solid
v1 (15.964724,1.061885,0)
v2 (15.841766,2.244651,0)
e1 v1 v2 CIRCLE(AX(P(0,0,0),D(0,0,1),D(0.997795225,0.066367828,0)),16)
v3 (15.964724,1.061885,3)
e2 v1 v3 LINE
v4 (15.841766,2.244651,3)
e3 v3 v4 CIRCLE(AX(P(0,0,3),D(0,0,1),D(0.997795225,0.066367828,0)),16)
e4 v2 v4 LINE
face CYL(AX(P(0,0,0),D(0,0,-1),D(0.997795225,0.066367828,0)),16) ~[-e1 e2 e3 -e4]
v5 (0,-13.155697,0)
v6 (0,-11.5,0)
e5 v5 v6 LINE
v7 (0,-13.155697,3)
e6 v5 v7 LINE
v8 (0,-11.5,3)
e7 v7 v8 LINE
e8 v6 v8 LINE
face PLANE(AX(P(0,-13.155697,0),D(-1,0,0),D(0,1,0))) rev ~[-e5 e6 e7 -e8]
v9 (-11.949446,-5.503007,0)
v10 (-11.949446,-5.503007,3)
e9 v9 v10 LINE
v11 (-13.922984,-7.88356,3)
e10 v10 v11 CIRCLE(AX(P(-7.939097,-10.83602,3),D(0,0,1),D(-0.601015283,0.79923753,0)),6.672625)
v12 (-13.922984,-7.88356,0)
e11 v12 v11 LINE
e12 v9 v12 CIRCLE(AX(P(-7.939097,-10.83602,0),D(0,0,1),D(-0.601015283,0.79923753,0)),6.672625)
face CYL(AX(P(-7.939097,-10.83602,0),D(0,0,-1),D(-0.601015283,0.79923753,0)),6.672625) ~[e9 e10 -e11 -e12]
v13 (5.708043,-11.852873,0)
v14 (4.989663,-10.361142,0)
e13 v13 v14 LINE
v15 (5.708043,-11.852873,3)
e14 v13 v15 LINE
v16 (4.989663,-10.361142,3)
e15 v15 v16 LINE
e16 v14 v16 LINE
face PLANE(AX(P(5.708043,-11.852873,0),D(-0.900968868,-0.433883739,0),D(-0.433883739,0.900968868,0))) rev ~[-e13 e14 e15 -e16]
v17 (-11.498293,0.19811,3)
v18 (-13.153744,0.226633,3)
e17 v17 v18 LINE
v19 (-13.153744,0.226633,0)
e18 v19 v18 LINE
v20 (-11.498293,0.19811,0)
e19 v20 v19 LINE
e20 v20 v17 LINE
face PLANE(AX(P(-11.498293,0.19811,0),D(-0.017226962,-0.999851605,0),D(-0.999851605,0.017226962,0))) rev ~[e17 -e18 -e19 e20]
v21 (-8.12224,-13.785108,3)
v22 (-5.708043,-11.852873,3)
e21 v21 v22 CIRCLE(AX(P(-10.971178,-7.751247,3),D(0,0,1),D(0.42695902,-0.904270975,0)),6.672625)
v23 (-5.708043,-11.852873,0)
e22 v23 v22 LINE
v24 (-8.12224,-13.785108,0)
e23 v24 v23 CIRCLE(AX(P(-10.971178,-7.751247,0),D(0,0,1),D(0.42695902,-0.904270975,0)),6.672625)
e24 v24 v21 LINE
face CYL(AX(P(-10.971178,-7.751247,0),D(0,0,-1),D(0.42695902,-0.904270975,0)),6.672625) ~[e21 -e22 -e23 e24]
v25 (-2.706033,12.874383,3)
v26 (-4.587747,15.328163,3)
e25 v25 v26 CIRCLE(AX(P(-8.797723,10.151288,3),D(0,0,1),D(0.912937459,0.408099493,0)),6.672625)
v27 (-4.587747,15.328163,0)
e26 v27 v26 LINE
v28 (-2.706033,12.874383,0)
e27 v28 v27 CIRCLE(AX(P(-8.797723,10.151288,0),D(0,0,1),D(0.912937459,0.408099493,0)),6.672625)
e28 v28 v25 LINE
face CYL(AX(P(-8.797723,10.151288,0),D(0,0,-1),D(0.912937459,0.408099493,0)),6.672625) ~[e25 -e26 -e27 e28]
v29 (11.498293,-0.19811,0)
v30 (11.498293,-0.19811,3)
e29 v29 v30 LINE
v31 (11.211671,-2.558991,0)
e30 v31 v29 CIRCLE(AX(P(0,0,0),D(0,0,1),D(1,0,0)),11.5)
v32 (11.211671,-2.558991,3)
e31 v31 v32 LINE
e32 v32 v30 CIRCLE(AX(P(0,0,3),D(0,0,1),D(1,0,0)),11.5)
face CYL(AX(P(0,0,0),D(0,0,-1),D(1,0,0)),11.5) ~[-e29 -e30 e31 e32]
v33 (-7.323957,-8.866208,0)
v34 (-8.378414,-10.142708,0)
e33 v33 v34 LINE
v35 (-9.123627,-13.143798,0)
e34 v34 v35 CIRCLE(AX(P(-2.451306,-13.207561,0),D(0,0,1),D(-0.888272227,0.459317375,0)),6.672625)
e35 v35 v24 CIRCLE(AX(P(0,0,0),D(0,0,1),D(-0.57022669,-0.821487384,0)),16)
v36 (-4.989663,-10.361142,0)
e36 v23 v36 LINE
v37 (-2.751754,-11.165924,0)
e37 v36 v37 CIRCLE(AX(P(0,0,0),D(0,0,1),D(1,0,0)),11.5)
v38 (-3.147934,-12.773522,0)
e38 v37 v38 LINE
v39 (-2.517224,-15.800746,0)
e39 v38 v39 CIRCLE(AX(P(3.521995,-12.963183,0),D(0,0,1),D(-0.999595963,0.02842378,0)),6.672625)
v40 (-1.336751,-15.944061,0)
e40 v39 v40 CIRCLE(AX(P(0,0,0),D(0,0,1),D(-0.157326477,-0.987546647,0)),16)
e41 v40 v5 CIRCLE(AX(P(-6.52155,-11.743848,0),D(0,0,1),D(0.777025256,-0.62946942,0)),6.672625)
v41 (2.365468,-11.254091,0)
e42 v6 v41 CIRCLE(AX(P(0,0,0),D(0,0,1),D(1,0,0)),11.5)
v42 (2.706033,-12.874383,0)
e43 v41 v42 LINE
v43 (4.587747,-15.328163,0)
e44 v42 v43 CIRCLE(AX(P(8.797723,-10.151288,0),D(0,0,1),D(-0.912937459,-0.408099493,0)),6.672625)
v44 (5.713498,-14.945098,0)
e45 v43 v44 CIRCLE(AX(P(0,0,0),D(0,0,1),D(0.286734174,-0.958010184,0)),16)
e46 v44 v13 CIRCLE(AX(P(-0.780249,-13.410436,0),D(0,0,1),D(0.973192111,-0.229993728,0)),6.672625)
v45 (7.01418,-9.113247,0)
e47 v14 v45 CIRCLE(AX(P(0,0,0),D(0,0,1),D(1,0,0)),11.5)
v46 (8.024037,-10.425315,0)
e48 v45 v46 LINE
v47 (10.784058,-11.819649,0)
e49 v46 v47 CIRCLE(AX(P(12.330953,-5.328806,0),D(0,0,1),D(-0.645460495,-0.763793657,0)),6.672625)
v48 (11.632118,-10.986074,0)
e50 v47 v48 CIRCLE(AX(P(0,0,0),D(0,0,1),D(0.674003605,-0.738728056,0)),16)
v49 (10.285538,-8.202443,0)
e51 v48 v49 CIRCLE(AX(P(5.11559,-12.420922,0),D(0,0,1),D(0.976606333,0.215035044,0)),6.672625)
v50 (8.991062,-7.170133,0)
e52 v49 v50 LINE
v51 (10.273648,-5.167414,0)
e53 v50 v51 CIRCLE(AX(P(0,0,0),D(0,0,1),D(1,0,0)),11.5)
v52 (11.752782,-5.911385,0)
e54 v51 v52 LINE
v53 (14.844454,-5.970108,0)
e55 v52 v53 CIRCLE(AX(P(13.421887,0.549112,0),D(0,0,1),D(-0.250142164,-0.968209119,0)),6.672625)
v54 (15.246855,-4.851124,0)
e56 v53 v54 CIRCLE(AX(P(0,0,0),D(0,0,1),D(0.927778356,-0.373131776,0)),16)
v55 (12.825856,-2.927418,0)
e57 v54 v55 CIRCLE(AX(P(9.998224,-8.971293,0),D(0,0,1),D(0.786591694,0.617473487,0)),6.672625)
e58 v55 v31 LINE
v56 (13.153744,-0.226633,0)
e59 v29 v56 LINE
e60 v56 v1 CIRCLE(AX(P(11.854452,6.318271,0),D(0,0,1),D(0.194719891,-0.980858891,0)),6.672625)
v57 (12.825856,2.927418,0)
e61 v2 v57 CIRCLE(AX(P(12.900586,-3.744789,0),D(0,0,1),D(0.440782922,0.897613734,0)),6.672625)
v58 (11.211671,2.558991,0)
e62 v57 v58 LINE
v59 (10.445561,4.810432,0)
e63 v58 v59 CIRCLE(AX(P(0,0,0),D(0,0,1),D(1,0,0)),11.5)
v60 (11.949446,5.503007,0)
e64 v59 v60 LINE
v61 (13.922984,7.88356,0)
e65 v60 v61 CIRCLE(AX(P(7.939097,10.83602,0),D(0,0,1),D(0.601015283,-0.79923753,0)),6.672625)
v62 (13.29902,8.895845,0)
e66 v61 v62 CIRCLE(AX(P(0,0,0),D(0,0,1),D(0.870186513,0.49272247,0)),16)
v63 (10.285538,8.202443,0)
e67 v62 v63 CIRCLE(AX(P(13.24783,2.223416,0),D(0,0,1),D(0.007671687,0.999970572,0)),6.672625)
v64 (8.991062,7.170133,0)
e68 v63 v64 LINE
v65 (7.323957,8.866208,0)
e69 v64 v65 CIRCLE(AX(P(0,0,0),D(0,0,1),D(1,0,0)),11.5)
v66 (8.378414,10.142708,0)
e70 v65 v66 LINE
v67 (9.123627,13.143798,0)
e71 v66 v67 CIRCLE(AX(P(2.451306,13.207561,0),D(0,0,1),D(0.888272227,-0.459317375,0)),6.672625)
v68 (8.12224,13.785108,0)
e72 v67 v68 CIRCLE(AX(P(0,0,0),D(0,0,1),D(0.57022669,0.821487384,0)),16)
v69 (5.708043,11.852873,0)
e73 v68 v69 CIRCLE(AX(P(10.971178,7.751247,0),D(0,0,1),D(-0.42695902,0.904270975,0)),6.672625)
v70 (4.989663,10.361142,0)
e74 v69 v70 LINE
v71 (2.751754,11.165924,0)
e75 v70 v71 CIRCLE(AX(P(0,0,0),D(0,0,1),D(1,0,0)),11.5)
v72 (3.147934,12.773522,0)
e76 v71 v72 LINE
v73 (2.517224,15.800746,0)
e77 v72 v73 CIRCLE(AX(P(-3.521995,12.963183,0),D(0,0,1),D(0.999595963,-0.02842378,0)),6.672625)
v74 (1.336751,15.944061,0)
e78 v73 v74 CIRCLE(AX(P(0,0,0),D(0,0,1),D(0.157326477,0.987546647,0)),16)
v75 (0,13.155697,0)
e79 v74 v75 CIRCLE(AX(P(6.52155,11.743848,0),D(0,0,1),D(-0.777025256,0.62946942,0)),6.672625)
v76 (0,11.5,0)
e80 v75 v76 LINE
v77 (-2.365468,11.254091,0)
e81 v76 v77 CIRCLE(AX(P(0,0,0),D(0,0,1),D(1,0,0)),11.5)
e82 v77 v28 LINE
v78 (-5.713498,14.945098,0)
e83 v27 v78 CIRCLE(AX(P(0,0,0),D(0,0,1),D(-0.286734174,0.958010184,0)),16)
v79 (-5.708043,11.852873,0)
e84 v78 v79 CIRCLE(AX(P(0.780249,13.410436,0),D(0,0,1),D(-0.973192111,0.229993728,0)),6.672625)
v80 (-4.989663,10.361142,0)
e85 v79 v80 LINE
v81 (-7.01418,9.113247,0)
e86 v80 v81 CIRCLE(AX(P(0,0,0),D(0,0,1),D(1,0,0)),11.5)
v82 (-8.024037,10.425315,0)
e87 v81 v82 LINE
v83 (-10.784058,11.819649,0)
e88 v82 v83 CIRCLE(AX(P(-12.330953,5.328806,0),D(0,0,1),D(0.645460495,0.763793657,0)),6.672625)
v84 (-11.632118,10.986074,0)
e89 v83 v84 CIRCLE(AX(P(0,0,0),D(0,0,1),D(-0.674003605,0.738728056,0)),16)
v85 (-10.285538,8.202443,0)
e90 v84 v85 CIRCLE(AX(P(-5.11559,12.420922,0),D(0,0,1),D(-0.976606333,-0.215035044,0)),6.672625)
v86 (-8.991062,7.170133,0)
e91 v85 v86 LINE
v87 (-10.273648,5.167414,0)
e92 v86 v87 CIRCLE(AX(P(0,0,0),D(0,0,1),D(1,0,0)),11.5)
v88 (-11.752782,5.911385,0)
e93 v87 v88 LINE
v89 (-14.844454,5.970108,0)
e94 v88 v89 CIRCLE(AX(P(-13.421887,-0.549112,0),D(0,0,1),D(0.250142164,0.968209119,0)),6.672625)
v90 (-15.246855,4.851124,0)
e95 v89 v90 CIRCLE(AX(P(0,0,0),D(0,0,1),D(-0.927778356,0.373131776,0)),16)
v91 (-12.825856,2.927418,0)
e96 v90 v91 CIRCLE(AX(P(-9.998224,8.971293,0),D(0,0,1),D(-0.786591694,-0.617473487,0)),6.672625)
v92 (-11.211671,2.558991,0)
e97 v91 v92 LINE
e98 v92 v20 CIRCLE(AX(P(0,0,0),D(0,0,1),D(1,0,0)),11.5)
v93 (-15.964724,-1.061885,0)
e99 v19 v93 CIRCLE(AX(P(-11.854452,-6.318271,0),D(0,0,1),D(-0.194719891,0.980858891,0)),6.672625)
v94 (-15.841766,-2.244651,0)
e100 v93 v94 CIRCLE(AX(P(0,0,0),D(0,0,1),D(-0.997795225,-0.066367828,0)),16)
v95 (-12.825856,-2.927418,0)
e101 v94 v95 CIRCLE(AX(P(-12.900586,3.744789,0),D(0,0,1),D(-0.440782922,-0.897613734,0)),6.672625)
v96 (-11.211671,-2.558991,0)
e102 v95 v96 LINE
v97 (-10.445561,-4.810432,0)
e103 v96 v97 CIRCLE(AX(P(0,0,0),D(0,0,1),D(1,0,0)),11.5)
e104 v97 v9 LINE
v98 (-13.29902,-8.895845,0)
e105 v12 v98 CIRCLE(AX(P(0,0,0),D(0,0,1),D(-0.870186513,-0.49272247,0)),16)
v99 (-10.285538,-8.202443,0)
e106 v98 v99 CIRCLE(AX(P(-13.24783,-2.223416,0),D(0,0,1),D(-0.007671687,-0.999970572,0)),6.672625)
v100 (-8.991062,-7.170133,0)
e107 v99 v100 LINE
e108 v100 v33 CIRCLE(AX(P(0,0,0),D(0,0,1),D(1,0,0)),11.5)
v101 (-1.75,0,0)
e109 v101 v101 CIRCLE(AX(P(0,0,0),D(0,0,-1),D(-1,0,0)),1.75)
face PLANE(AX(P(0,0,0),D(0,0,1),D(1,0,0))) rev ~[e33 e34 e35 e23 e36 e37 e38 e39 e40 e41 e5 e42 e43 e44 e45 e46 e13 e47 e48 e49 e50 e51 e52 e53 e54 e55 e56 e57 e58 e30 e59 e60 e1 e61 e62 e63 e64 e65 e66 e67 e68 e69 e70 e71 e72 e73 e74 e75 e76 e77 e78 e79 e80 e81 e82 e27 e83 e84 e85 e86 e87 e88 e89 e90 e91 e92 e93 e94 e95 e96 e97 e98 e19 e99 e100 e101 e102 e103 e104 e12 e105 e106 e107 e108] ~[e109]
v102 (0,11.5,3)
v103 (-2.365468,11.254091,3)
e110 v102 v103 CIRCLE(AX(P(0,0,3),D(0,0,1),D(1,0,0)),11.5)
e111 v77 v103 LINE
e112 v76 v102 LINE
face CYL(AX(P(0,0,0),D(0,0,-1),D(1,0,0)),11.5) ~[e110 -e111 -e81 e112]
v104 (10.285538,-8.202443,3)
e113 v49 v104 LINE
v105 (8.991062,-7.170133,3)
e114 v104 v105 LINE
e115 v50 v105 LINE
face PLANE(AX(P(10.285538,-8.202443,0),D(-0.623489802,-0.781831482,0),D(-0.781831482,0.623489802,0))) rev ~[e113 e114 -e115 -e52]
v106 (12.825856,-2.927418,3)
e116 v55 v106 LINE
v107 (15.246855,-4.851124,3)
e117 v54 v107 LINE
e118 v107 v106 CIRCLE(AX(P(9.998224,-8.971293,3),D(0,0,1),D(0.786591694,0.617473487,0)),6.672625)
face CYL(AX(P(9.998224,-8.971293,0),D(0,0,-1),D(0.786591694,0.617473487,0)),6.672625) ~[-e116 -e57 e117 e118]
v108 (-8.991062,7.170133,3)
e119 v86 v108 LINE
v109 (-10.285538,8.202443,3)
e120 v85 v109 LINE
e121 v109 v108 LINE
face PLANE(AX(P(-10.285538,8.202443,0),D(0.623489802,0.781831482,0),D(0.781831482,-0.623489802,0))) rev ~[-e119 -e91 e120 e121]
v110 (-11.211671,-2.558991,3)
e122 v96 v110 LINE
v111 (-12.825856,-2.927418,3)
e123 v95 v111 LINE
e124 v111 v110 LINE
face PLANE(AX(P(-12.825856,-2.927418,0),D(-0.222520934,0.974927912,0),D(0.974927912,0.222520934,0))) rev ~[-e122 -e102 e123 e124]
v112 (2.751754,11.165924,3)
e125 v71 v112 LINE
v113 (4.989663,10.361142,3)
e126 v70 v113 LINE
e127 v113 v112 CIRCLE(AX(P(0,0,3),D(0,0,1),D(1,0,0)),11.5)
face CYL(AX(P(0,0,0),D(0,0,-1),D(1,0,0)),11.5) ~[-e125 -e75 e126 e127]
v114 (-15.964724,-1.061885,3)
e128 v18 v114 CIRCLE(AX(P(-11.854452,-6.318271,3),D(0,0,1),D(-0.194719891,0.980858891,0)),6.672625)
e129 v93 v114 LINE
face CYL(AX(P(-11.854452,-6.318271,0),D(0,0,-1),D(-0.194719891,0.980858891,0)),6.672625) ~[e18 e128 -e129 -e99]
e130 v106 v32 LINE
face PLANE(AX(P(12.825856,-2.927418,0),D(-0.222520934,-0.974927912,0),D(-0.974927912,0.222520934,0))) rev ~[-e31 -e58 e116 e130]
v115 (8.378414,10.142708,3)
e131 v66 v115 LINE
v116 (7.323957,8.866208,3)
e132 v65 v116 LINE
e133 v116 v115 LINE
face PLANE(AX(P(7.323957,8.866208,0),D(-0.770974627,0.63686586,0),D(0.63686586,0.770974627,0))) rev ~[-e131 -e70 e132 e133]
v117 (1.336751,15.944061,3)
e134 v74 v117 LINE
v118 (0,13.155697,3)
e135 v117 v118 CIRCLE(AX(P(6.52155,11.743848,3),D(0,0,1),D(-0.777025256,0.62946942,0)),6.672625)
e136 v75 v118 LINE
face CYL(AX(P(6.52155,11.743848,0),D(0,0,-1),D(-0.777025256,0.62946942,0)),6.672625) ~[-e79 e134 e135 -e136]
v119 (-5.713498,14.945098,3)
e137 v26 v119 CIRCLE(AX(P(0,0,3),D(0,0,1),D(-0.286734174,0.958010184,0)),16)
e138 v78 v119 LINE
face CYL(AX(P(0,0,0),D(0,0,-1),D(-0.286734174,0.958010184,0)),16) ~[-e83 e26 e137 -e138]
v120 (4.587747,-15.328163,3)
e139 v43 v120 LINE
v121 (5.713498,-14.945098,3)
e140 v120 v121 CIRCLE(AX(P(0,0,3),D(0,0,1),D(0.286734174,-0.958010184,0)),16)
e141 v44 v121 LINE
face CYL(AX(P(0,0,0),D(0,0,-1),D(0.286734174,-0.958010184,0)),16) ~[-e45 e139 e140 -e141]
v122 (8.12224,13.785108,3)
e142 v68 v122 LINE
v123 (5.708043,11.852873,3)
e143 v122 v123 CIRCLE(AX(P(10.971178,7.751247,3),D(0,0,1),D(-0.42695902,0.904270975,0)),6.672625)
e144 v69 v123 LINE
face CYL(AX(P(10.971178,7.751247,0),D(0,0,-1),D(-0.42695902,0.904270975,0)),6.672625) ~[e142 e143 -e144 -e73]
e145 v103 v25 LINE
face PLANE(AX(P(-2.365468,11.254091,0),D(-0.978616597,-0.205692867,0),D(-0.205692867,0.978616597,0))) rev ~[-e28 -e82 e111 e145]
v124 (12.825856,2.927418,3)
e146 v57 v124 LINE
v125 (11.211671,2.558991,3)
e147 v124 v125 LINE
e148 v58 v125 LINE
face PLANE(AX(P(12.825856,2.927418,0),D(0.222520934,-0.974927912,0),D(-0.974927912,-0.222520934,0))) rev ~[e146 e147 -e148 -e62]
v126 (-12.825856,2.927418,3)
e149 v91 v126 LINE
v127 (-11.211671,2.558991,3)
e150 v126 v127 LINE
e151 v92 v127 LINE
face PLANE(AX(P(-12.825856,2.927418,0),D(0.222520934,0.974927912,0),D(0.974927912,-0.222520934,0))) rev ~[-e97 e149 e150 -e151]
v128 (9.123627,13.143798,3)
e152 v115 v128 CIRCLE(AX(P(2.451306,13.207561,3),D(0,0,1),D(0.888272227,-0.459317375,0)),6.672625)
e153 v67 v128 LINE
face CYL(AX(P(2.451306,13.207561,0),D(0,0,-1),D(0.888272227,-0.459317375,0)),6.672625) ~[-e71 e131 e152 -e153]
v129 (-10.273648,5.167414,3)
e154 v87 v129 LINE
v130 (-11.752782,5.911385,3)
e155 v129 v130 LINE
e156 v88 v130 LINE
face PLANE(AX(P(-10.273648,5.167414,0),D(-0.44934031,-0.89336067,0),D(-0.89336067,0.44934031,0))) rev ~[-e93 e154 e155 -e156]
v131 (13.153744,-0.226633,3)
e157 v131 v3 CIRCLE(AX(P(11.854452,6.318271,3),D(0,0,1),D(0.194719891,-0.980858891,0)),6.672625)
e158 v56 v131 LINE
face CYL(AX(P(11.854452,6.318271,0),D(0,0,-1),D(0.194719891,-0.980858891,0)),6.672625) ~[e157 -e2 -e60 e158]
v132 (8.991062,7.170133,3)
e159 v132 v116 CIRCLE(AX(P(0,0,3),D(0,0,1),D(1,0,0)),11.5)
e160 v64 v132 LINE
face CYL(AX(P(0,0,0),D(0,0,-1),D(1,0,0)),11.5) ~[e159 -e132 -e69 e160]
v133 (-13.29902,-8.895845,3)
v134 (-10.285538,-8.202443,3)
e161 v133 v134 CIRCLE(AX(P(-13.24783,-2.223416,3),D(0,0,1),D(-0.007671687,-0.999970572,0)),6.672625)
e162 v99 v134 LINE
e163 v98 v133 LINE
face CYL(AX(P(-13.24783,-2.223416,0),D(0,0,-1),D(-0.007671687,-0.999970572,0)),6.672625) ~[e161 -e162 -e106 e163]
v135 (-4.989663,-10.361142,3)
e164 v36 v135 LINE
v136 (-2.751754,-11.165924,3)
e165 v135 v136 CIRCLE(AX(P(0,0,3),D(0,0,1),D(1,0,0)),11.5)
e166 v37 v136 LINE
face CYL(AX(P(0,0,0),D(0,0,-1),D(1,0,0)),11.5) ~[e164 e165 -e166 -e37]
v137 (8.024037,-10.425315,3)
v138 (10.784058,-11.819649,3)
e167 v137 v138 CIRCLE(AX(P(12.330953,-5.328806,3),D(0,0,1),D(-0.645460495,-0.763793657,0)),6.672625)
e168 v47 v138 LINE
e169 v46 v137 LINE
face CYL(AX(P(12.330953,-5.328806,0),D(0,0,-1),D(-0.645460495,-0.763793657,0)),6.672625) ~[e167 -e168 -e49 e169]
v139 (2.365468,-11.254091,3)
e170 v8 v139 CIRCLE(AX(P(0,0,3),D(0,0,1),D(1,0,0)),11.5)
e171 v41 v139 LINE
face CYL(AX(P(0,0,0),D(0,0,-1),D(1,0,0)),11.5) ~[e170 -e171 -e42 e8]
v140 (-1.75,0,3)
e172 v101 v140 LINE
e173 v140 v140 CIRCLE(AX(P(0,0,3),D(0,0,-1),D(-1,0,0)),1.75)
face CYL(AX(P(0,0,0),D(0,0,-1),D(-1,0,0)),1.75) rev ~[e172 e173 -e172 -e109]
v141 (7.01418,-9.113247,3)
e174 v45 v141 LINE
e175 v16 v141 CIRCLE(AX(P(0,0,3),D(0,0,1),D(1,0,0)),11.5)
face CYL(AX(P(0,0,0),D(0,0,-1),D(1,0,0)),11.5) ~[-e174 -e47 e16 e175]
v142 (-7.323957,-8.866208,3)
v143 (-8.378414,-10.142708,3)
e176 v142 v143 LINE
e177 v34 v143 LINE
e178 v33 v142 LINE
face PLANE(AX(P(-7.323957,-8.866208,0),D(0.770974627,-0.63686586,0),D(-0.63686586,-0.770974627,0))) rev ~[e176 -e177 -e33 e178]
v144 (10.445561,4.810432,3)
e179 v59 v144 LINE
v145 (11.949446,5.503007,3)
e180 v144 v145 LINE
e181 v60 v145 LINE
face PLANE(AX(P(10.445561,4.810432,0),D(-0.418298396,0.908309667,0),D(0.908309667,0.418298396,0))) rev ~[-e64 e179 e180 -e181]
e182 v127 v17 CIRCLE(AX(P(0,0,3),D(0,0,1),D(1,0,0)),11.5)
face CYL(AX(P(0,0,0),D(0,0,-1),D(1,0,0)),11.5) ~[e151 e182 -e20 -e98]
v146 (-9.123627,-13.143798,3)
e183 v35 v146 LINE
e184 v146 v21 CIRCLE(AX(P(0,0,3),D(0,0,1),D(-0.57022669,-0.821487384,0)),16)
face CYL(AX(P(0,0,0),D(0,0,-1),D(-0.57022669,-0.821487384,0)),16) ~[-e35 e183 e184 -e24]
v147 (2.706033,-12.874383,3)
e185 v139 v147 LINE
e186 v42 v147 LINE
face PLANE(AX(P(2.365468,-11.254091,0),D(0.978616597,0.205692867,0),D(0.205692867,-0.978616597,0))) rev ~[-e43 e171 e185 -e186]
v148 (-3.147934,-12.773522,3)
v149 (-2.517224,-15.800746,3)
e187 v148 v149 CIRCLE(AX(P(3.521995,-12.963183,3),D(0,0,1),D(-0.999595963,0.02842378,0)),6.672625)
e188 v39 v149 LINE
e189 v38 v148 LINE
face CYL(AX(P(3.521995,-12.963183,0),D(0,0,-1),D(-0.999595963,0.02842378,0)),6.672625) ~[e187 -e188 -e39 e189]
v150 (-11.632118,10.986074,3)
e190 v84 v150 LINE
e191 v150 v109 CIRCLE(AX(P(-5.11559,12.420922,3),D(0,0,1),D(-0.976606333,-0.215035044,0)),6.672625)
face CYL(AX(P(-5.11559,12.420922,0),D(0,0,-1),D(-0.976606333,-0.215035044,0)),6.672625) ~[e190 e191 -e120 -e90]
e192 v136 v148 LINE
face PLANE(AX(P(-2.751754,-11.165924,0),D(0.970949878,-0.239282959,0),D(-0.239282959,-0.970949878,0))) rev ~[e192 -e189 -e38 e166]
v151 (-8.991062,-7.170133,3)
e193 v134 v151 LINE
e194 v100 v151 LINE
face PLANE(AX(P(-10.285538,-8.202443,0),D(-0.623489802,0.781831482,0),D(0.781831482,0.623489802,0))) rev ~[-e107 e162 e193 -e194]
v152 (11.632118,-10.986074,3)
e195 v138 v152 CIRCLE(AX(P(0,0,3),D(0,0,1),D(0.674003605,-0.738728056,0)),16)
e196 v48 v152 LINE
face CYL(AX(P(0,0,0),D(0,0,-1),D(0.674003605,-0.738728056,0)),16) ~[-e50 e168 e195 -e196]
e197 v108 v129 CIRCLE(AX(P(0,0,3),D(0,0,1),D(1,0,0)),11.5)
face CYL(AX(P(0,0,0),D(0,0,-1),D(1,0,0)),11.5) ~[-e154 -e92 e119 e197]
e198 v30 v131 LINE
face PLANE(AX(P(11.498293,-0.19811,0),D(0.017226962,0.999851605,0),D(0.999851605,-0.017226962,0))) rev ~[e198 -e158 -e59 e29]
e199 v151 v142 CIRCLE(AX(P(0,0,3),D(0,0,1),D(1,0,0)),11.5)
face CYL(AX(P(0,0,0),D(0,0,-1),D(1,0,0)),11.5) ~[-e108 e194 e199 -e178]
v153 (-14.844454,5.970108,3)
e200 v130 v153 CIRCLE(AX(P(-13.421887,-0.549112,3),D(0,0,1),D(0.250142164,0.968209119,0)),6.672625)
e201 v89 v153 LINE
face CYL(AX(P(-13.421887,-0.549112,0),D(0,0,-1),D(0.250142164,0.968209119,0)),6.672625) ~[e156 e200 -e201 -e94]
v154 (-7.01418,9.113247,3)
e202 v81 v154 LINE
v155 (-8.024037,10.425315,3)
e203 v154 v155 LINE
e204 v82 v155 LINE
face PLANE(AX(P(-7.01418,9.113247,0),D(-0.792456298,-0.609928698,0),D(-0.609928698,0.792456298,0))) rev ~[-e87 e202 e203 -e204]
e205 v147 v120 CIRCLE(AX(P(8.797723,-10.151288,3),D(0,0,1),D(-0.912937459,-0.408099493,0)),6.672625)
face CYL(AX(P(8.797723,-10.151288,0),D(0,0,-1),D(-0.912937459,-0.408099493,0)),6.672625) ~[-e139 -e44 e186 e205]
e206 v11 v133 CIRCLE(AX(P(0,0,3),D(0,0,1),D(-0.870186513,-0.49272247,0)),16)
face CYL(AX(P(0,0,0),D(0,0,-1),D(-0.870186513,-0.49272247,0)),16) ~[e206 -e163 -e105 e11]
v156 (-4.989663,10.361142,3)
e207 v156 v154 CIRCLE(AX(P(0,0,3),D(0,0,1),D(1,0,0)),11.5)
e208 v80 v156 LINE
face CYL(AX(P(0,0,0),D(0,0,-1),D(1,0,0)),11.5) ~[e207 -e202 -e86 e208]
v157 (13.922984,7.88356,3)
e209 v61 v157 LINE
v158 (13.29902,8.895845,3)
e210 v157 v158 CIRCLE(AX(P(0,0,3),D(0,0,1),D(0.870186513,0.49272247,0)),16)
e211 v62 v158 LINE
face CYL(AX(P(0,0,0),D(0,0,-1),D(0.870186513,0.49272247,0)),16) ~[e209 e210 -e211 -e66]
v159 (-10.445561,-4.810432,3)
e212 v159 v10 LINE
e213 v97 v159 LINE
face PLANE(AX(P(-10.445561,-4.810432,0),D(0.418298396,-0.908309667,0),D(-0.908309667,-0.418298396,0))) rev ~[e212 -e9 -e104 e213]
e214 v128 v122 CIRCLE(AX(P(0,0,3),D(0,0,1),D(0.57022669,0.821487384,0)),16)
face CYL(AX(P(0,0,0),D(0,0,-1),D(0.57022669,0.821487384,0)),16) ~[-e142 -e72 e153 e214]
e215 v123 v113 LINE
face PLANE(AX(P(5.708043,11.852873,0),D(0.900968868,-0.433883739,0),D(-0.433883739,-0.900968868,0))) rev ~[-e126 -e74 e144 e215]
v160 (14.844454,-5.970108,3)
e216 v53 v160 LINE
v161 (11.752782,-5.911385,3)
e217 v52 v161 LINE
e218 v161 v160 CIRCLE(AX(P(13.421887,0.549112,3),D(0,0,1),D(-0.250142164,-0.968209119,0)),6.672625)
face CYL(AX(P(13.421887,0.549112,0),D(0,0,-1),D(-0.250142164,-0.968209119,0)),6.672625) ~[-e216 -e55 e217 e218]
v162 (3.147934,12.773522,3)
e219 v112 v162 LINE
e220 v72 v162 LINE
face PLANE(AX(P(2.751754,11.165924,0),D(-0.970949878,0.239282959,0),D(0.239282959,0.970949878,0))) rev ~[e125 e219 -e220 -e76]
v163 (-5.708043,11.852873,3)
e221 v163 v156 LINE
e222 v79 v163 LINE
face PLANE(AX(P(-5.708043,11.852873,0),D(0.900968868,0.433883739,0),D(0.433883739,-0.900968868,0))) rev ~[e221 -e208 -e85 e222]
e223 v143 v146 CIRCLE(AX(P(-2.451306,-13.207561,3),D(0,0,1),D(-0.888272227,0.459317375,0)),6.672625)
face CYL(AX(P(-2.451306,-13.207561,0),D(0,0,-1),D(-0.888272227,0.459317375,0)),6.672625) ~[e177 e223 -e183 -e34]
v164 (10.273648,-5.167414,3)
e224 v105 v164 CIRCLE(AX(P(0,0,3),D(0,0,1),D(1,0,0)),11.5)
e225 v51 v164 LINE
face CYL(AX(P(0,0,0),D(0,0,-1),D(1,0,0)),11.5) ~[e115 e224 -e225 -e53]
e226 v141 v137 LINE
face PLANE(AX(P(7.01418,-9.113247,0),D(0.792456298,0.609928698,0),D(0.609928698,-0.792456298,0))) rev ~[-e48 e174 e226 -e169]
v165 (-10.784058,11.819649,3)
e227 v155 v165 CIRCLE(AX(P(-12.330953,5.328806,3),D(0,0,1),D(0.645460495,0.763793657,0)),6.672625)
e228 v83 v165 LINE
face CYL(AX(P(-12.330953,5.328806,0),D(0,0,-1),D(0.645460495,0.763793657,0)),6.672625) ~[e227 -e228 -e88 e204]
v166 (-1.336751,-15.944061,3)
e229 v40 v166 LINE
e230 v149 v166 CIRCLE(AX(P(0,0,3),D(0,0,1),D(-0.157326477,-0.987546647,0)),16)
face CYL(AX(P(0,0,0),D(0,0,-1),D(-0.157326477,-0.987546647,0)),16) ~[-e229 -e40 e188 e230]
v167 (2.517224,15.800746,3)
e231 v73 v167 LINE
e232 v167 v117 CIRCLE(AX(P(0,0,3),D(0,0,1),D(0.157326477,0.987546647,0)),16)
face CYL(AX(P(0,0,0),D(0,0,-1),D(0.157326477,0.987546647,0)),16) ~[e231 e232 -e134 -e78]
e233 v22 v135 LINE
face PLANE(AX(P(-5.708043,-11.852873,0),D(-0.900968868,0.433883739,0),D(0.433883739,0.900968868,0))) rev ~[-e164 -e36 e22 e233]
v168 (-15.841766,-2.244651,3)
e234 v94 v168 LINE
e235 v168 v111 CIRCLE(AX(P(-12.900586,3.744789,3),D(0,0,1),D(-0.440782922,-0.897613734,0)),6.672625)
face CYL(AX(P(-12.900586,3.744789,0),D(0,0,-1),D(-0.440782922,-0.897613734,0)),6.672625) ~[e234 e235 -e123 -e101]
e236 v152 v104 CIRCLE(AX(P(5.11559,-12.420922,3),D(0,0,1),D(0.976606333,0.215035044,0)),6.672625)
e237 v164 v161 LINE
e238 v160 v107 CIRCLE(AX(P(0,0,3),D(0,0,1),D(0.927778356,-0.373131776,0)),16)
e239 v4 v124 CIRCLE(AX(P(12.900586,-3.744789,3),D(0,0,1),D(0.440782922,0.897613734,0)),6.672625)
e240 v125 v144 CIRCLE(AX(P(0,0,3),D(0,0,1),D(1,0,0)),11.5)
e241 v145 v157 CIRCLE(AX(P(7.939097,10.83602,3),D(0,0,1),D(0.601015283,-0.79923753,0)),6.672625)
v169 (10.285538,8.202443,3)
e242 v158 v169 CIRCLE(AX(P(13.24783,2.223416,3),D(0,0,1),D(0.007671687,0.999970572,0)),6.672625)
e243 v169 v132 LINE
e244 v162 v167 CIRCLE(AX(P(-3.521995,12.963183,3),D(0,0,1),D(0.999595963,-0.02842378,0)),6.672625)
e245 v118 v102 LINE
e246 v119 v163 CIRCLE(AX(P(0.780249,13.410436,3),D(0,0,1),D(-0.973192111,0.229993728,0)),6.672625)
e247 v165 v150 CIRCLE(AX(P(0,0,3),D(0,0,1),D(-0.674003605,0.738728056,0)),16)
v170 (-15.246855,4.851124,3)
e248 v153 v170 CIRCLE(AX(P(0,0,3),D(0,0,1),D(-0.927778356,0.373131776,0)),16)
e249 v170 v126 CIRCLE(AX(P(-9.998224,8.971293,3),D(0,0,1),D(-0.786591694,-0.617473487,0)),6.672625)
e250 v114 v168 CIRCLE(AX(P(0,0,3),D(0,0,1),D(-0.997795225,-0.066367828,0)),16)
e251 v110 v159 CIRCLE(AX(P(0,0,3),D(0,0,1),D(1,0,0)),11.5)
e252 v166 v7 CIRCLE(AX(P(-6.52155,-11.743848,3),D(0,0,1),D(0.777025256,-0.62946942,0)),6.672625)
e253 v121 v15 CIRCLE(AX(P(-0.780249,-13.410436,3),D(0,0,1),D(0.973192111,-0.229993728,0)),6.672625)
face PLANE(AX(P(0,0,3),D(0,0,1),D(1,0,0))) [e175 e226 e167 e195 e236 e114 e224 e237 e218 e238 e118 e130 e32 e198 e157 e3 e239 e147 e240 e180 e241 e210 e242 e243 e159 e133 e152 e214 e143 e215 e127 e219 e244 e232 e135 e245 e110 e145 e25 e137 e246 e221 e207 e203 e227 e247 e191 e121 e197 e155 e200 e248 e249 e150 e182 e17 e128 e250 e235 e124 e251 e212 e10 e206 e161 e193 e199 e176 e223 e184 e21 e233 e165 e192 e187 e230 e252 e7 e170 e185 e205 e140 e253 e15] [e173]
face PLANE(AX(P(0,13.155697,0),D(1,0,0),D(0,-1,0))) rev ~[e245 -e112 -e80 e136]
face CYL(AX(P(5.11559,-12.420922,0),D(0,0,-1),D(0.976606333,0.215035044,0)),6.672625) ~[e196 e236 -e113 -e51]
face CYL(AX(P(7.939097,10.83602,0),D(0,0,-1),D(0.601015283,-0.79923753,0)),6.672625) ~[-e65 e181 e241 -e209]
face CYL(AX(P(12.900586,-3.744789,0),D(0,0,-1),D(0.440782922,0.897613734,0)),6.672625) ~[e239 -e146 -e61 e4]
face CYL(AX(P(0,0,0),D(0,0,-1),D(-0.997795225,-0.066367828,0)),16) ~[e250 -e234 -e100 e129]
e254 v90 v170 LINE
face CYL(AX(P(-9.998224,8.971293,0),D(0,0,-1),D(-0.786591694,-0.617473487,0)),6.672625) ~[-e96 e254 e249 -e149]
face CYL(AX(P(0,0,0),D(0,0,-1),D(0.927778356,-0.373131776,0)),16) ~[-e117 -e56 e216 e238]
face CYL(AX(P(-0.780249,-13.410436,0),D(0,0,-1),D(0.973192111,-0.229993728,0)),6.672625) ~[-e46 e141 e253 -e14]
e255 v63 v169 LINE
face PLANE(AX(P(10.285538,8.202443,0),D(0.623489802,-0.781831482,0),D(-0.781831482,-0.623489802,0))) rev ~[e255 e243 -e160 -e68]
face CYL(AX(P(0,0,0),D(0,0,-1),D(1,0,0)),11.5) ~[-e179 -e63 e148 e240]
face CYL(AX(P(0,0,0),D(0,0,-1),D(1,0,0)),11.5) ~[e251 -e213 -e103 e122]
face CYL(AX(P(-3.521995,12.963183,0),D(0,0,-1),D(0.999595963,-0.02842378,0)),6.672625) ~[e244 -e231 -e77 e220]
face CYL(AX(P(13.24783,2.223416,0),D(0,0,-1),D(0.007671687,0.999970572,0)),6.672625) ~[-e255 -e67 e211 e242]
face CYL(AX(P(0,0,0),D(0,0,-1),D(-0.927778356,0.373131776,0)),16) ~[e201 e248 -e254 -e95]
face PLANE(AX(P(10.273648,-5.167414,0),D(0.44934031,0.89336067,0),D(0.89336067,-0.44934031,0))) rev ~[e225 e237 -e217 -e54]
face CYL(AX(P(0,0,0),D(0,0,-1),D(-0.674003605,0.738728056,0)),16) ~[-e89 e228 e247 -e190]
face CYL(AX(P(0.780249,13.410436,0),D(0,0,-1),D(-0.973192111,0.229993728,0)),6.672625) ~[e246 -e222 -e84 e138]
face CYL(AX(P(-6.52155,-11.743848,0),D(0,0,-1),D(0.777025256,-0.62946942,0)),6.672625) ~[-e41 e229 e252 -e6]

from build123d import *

# Parameters (mm, degrees)
BOSS_EXTRU_1_DEPTH           = 3
R_P_TITION_CIRCULAIRE2_COUNT = 14
ESQUISSE5_R                  = 11.5
BOSS_EXTRU_2_DEPTH           = 3
ESQUISSE6_R                  = 1.75
ENL_V_MAT_EXTRU_1_DEPTH      = 4


with BuildPart() as part:
    # Esquisse4 → Boss.-Extru.1 (new body)
    with BuildSketch(Plane.XY):
        with BuildLine():
            Line((0, 13.155696691), (0, 11.5))
            ThreePointArc((0, 11.5), (1.385979557, 11.416175396), (2.751754038, 11.165923594))
            Line((2.751754038, 11.165923594), (3.147934042, 12.773522094))
            ThreePointArc((3.147934042, 12.773522094), (3.010357566, 14.324173734), (2.517223611, 15.800746352))
            ThreePointArc((2.517223611, 15.800746352), (1.928319383, 15.883374464), (1.336751397, 15.944061456))
            ThreePointArc((1.336751397, 15.944061456), (0.504624377, 14.628382005), (0, 13.155696691))
        make_face()
    extrude(amount=BOSS_EXTRU_1_DEPTH)


with BuildPart() as r_p_tition_circulaire2_1:
    # Répétition circulaire2: pattern copy
    add(part.part.rotate(Axis((0, 0, 0), (0, 0, 1)), 1 * 360 / R_P_TITION_CIRCULAIRE2_COUNT))


with BuildPart() as r_p_tition_circulaire2_2:
    # Répétition circulaire2: pattern copy
    add(part.part.rotate(Axis((0, 0, 0), (0, 0, 1)), 2 * 360 / R_P_TITION_CIRCULAIRE2_COUNT))


with BuildPart() as r_p_tition_circulaire2_3:
    # Répétition circulaire2: pattern copy
    add(part.part.rotate(Axis((0, 0, 0), (0, 0, 1)), 3 * 360 / R_P_TITION_CIRCULAIRE2_COUNT))


with BuildPart() as r_p_tition_circulaire2_4:
    # Répétition circulaire2: pattern copy
    add(part.part.rotate(Axis((0, 0, 0), (0, 0, 1)), 4 * 360 / R_P_TITION_CIRCULAIRE2_COUNT))


with BuildPart() as r_p_tition_circulaire2_5:
    # Répétition circulaire2: pattern copy
    add(part.part.rotate(Axis((0, 0, 0), (0, 0, 1)), 5 * 360 / R_P_TITION_CIRCULAIRE2_COUNT))


with BuildPart() as r_p_tition_circulaire2_6:
    # Répétition circulaire2: pattern copy
    add(part.part.rotate(Axis((0, 0, 0), (0, 0, 1)), 6 * 360 / R_P_TITION_CIRCULAIRE2_COUNT))


with BuildPart() as r_p_tition_circulaire2_7:
    # Répétition circulaire2: pattern copy
    add(part.part.rotate(Axis((0, 0, 0), (0, 0, 1)), 7 * 360 / R_P_TITION_CIRCULAIRE2_COUNT))


with BuildPart() as r_p_tition_circulaire2_8:
    # Répétition circulaire2: pattern copy
    add(part.part.rotate(Axis((0, 0, 0), (0, 0, 1)), 8 * 360 / R_P_TITION_CIRCULAIRE2_COUNT))


with BuildPart() as r_p_tition_circulaire2_9:
    # Répétition circulaire2: pattern copy
    add(part.part.rotate(Axis((0, 0, 0), (0, 0, 1)), 9 * 360 / R_P_TITION_CIRCULAIRE2_COUNT))


with BuildPart() as r_p_tition_circulaire2_10:
    # Répétition circulaire2: pattern copy
    add(part.part.rotate(Axis((0, 0, 0), (0, 0, 1)), 10 * 360 / R_P_TITION_CIRCULAIRE2_COUNT))


with BuildPart() as r_p_tition_circulaire2_11:
    # Répétition circulaire2: pattern copy
    add(part.part.rotate(Axis((0, 0, 0), (0, 0, 1)), 11 * 360 / R_P_TITION_CIRCULAIRE2_COUNT))


with BuildPart() as r_p_tition_circulaire2_12:
    # Répétition circulaire2: pattern copy
    add(part.part.rotate(Axis((0, 0, 0), (0, 0, 1)), 12 * 360 / R_P_TITION_CIRCULAIRE2_COUNT))


with BuildPart() as r_p_tition_circulaire2_13:
    # Répétition circulaire2: pattern copy
    add(part.part.rotate(Axis((0, 0, 0), (0, 0, 1)), 13 * 360 / R_P_TITION_CIRCULAIRE2_COUNT))


with BuildPart() as part_1:
    add(part.part)

    add(r_p_tition_circulaire2_1.part)  # Boss.-Extru.2 merges Répétition circulaire2_1

    add(r_p_tition_circulaire2_2.part)  # Boss.-Extru.2 merges Répétition circulaire2_2

    add(r_p_tition_circulaire2_3.part)  # Boss.-Extru.2 merges Répétition circulaire2_3

    add(r_p_tition_circulaire2_4.part)  # Boss.-Extru.2 merges Répétition circulaire2_4

    add(r_p_tition_circulaire2_5.part)  # Boss.-Extru.2 merges Répétition circulaire2_5

    add(r_p_tition_circulaire2_6.part)  # Boss.-Extru.2 merges Répétition circulaire2_6

    add(r_p_tition_circulaire2_7.part)  # Boss.-Extru.2 merges Répétition circulaire2_7

    add(r_p_tition_circulaire2_8.part)  # Boss.-Extru.2 merges Répétition circulaire2_8

    add(r_p_tition_circulaire2_9.part)  # Boss.-Extru.2 merges Répétition circulaire2_9

    add(r_p_tition_circulaire2_10.part)  # Boss.-Extru.2 merges Répétition circulaire2_10

    add(r_p_tition_circulaire2_11.part)  # Boss.-Extru.2 merges Répétition circulaire2_11

    add(r_p_tition_circulaire2_12.part)  # Boss.-Extru.2 merges Répétition circulaire2_12

    add(r_p_tition_circulaire2_13.part)  # Boss.-Extru.2 merges Répétition circulaire2_13
    # Esquisse5 → Boss.-Extru.2 (add)
    with BuildSketch(Plane.XY):
        Circle(ESQUISSE5_R)
    extrude(amount=BOSS_EXTRU_2_DEPTH)

    # Esquisse6 → Enlèv. mat.-Extru.1 (cut, through all)
    with BuildSketch(Plane(origin=(0, 0, 0), x_dir=(-1, 0, 0), z_dir=(0, 0, -1))):
        Circle(ESQUISSE6_R)
    extrude(amount=-ENL_V_MAT_EXTRU_1_DEPTH, mode=Mode.SUBTRACT)


solid = part_1.part
